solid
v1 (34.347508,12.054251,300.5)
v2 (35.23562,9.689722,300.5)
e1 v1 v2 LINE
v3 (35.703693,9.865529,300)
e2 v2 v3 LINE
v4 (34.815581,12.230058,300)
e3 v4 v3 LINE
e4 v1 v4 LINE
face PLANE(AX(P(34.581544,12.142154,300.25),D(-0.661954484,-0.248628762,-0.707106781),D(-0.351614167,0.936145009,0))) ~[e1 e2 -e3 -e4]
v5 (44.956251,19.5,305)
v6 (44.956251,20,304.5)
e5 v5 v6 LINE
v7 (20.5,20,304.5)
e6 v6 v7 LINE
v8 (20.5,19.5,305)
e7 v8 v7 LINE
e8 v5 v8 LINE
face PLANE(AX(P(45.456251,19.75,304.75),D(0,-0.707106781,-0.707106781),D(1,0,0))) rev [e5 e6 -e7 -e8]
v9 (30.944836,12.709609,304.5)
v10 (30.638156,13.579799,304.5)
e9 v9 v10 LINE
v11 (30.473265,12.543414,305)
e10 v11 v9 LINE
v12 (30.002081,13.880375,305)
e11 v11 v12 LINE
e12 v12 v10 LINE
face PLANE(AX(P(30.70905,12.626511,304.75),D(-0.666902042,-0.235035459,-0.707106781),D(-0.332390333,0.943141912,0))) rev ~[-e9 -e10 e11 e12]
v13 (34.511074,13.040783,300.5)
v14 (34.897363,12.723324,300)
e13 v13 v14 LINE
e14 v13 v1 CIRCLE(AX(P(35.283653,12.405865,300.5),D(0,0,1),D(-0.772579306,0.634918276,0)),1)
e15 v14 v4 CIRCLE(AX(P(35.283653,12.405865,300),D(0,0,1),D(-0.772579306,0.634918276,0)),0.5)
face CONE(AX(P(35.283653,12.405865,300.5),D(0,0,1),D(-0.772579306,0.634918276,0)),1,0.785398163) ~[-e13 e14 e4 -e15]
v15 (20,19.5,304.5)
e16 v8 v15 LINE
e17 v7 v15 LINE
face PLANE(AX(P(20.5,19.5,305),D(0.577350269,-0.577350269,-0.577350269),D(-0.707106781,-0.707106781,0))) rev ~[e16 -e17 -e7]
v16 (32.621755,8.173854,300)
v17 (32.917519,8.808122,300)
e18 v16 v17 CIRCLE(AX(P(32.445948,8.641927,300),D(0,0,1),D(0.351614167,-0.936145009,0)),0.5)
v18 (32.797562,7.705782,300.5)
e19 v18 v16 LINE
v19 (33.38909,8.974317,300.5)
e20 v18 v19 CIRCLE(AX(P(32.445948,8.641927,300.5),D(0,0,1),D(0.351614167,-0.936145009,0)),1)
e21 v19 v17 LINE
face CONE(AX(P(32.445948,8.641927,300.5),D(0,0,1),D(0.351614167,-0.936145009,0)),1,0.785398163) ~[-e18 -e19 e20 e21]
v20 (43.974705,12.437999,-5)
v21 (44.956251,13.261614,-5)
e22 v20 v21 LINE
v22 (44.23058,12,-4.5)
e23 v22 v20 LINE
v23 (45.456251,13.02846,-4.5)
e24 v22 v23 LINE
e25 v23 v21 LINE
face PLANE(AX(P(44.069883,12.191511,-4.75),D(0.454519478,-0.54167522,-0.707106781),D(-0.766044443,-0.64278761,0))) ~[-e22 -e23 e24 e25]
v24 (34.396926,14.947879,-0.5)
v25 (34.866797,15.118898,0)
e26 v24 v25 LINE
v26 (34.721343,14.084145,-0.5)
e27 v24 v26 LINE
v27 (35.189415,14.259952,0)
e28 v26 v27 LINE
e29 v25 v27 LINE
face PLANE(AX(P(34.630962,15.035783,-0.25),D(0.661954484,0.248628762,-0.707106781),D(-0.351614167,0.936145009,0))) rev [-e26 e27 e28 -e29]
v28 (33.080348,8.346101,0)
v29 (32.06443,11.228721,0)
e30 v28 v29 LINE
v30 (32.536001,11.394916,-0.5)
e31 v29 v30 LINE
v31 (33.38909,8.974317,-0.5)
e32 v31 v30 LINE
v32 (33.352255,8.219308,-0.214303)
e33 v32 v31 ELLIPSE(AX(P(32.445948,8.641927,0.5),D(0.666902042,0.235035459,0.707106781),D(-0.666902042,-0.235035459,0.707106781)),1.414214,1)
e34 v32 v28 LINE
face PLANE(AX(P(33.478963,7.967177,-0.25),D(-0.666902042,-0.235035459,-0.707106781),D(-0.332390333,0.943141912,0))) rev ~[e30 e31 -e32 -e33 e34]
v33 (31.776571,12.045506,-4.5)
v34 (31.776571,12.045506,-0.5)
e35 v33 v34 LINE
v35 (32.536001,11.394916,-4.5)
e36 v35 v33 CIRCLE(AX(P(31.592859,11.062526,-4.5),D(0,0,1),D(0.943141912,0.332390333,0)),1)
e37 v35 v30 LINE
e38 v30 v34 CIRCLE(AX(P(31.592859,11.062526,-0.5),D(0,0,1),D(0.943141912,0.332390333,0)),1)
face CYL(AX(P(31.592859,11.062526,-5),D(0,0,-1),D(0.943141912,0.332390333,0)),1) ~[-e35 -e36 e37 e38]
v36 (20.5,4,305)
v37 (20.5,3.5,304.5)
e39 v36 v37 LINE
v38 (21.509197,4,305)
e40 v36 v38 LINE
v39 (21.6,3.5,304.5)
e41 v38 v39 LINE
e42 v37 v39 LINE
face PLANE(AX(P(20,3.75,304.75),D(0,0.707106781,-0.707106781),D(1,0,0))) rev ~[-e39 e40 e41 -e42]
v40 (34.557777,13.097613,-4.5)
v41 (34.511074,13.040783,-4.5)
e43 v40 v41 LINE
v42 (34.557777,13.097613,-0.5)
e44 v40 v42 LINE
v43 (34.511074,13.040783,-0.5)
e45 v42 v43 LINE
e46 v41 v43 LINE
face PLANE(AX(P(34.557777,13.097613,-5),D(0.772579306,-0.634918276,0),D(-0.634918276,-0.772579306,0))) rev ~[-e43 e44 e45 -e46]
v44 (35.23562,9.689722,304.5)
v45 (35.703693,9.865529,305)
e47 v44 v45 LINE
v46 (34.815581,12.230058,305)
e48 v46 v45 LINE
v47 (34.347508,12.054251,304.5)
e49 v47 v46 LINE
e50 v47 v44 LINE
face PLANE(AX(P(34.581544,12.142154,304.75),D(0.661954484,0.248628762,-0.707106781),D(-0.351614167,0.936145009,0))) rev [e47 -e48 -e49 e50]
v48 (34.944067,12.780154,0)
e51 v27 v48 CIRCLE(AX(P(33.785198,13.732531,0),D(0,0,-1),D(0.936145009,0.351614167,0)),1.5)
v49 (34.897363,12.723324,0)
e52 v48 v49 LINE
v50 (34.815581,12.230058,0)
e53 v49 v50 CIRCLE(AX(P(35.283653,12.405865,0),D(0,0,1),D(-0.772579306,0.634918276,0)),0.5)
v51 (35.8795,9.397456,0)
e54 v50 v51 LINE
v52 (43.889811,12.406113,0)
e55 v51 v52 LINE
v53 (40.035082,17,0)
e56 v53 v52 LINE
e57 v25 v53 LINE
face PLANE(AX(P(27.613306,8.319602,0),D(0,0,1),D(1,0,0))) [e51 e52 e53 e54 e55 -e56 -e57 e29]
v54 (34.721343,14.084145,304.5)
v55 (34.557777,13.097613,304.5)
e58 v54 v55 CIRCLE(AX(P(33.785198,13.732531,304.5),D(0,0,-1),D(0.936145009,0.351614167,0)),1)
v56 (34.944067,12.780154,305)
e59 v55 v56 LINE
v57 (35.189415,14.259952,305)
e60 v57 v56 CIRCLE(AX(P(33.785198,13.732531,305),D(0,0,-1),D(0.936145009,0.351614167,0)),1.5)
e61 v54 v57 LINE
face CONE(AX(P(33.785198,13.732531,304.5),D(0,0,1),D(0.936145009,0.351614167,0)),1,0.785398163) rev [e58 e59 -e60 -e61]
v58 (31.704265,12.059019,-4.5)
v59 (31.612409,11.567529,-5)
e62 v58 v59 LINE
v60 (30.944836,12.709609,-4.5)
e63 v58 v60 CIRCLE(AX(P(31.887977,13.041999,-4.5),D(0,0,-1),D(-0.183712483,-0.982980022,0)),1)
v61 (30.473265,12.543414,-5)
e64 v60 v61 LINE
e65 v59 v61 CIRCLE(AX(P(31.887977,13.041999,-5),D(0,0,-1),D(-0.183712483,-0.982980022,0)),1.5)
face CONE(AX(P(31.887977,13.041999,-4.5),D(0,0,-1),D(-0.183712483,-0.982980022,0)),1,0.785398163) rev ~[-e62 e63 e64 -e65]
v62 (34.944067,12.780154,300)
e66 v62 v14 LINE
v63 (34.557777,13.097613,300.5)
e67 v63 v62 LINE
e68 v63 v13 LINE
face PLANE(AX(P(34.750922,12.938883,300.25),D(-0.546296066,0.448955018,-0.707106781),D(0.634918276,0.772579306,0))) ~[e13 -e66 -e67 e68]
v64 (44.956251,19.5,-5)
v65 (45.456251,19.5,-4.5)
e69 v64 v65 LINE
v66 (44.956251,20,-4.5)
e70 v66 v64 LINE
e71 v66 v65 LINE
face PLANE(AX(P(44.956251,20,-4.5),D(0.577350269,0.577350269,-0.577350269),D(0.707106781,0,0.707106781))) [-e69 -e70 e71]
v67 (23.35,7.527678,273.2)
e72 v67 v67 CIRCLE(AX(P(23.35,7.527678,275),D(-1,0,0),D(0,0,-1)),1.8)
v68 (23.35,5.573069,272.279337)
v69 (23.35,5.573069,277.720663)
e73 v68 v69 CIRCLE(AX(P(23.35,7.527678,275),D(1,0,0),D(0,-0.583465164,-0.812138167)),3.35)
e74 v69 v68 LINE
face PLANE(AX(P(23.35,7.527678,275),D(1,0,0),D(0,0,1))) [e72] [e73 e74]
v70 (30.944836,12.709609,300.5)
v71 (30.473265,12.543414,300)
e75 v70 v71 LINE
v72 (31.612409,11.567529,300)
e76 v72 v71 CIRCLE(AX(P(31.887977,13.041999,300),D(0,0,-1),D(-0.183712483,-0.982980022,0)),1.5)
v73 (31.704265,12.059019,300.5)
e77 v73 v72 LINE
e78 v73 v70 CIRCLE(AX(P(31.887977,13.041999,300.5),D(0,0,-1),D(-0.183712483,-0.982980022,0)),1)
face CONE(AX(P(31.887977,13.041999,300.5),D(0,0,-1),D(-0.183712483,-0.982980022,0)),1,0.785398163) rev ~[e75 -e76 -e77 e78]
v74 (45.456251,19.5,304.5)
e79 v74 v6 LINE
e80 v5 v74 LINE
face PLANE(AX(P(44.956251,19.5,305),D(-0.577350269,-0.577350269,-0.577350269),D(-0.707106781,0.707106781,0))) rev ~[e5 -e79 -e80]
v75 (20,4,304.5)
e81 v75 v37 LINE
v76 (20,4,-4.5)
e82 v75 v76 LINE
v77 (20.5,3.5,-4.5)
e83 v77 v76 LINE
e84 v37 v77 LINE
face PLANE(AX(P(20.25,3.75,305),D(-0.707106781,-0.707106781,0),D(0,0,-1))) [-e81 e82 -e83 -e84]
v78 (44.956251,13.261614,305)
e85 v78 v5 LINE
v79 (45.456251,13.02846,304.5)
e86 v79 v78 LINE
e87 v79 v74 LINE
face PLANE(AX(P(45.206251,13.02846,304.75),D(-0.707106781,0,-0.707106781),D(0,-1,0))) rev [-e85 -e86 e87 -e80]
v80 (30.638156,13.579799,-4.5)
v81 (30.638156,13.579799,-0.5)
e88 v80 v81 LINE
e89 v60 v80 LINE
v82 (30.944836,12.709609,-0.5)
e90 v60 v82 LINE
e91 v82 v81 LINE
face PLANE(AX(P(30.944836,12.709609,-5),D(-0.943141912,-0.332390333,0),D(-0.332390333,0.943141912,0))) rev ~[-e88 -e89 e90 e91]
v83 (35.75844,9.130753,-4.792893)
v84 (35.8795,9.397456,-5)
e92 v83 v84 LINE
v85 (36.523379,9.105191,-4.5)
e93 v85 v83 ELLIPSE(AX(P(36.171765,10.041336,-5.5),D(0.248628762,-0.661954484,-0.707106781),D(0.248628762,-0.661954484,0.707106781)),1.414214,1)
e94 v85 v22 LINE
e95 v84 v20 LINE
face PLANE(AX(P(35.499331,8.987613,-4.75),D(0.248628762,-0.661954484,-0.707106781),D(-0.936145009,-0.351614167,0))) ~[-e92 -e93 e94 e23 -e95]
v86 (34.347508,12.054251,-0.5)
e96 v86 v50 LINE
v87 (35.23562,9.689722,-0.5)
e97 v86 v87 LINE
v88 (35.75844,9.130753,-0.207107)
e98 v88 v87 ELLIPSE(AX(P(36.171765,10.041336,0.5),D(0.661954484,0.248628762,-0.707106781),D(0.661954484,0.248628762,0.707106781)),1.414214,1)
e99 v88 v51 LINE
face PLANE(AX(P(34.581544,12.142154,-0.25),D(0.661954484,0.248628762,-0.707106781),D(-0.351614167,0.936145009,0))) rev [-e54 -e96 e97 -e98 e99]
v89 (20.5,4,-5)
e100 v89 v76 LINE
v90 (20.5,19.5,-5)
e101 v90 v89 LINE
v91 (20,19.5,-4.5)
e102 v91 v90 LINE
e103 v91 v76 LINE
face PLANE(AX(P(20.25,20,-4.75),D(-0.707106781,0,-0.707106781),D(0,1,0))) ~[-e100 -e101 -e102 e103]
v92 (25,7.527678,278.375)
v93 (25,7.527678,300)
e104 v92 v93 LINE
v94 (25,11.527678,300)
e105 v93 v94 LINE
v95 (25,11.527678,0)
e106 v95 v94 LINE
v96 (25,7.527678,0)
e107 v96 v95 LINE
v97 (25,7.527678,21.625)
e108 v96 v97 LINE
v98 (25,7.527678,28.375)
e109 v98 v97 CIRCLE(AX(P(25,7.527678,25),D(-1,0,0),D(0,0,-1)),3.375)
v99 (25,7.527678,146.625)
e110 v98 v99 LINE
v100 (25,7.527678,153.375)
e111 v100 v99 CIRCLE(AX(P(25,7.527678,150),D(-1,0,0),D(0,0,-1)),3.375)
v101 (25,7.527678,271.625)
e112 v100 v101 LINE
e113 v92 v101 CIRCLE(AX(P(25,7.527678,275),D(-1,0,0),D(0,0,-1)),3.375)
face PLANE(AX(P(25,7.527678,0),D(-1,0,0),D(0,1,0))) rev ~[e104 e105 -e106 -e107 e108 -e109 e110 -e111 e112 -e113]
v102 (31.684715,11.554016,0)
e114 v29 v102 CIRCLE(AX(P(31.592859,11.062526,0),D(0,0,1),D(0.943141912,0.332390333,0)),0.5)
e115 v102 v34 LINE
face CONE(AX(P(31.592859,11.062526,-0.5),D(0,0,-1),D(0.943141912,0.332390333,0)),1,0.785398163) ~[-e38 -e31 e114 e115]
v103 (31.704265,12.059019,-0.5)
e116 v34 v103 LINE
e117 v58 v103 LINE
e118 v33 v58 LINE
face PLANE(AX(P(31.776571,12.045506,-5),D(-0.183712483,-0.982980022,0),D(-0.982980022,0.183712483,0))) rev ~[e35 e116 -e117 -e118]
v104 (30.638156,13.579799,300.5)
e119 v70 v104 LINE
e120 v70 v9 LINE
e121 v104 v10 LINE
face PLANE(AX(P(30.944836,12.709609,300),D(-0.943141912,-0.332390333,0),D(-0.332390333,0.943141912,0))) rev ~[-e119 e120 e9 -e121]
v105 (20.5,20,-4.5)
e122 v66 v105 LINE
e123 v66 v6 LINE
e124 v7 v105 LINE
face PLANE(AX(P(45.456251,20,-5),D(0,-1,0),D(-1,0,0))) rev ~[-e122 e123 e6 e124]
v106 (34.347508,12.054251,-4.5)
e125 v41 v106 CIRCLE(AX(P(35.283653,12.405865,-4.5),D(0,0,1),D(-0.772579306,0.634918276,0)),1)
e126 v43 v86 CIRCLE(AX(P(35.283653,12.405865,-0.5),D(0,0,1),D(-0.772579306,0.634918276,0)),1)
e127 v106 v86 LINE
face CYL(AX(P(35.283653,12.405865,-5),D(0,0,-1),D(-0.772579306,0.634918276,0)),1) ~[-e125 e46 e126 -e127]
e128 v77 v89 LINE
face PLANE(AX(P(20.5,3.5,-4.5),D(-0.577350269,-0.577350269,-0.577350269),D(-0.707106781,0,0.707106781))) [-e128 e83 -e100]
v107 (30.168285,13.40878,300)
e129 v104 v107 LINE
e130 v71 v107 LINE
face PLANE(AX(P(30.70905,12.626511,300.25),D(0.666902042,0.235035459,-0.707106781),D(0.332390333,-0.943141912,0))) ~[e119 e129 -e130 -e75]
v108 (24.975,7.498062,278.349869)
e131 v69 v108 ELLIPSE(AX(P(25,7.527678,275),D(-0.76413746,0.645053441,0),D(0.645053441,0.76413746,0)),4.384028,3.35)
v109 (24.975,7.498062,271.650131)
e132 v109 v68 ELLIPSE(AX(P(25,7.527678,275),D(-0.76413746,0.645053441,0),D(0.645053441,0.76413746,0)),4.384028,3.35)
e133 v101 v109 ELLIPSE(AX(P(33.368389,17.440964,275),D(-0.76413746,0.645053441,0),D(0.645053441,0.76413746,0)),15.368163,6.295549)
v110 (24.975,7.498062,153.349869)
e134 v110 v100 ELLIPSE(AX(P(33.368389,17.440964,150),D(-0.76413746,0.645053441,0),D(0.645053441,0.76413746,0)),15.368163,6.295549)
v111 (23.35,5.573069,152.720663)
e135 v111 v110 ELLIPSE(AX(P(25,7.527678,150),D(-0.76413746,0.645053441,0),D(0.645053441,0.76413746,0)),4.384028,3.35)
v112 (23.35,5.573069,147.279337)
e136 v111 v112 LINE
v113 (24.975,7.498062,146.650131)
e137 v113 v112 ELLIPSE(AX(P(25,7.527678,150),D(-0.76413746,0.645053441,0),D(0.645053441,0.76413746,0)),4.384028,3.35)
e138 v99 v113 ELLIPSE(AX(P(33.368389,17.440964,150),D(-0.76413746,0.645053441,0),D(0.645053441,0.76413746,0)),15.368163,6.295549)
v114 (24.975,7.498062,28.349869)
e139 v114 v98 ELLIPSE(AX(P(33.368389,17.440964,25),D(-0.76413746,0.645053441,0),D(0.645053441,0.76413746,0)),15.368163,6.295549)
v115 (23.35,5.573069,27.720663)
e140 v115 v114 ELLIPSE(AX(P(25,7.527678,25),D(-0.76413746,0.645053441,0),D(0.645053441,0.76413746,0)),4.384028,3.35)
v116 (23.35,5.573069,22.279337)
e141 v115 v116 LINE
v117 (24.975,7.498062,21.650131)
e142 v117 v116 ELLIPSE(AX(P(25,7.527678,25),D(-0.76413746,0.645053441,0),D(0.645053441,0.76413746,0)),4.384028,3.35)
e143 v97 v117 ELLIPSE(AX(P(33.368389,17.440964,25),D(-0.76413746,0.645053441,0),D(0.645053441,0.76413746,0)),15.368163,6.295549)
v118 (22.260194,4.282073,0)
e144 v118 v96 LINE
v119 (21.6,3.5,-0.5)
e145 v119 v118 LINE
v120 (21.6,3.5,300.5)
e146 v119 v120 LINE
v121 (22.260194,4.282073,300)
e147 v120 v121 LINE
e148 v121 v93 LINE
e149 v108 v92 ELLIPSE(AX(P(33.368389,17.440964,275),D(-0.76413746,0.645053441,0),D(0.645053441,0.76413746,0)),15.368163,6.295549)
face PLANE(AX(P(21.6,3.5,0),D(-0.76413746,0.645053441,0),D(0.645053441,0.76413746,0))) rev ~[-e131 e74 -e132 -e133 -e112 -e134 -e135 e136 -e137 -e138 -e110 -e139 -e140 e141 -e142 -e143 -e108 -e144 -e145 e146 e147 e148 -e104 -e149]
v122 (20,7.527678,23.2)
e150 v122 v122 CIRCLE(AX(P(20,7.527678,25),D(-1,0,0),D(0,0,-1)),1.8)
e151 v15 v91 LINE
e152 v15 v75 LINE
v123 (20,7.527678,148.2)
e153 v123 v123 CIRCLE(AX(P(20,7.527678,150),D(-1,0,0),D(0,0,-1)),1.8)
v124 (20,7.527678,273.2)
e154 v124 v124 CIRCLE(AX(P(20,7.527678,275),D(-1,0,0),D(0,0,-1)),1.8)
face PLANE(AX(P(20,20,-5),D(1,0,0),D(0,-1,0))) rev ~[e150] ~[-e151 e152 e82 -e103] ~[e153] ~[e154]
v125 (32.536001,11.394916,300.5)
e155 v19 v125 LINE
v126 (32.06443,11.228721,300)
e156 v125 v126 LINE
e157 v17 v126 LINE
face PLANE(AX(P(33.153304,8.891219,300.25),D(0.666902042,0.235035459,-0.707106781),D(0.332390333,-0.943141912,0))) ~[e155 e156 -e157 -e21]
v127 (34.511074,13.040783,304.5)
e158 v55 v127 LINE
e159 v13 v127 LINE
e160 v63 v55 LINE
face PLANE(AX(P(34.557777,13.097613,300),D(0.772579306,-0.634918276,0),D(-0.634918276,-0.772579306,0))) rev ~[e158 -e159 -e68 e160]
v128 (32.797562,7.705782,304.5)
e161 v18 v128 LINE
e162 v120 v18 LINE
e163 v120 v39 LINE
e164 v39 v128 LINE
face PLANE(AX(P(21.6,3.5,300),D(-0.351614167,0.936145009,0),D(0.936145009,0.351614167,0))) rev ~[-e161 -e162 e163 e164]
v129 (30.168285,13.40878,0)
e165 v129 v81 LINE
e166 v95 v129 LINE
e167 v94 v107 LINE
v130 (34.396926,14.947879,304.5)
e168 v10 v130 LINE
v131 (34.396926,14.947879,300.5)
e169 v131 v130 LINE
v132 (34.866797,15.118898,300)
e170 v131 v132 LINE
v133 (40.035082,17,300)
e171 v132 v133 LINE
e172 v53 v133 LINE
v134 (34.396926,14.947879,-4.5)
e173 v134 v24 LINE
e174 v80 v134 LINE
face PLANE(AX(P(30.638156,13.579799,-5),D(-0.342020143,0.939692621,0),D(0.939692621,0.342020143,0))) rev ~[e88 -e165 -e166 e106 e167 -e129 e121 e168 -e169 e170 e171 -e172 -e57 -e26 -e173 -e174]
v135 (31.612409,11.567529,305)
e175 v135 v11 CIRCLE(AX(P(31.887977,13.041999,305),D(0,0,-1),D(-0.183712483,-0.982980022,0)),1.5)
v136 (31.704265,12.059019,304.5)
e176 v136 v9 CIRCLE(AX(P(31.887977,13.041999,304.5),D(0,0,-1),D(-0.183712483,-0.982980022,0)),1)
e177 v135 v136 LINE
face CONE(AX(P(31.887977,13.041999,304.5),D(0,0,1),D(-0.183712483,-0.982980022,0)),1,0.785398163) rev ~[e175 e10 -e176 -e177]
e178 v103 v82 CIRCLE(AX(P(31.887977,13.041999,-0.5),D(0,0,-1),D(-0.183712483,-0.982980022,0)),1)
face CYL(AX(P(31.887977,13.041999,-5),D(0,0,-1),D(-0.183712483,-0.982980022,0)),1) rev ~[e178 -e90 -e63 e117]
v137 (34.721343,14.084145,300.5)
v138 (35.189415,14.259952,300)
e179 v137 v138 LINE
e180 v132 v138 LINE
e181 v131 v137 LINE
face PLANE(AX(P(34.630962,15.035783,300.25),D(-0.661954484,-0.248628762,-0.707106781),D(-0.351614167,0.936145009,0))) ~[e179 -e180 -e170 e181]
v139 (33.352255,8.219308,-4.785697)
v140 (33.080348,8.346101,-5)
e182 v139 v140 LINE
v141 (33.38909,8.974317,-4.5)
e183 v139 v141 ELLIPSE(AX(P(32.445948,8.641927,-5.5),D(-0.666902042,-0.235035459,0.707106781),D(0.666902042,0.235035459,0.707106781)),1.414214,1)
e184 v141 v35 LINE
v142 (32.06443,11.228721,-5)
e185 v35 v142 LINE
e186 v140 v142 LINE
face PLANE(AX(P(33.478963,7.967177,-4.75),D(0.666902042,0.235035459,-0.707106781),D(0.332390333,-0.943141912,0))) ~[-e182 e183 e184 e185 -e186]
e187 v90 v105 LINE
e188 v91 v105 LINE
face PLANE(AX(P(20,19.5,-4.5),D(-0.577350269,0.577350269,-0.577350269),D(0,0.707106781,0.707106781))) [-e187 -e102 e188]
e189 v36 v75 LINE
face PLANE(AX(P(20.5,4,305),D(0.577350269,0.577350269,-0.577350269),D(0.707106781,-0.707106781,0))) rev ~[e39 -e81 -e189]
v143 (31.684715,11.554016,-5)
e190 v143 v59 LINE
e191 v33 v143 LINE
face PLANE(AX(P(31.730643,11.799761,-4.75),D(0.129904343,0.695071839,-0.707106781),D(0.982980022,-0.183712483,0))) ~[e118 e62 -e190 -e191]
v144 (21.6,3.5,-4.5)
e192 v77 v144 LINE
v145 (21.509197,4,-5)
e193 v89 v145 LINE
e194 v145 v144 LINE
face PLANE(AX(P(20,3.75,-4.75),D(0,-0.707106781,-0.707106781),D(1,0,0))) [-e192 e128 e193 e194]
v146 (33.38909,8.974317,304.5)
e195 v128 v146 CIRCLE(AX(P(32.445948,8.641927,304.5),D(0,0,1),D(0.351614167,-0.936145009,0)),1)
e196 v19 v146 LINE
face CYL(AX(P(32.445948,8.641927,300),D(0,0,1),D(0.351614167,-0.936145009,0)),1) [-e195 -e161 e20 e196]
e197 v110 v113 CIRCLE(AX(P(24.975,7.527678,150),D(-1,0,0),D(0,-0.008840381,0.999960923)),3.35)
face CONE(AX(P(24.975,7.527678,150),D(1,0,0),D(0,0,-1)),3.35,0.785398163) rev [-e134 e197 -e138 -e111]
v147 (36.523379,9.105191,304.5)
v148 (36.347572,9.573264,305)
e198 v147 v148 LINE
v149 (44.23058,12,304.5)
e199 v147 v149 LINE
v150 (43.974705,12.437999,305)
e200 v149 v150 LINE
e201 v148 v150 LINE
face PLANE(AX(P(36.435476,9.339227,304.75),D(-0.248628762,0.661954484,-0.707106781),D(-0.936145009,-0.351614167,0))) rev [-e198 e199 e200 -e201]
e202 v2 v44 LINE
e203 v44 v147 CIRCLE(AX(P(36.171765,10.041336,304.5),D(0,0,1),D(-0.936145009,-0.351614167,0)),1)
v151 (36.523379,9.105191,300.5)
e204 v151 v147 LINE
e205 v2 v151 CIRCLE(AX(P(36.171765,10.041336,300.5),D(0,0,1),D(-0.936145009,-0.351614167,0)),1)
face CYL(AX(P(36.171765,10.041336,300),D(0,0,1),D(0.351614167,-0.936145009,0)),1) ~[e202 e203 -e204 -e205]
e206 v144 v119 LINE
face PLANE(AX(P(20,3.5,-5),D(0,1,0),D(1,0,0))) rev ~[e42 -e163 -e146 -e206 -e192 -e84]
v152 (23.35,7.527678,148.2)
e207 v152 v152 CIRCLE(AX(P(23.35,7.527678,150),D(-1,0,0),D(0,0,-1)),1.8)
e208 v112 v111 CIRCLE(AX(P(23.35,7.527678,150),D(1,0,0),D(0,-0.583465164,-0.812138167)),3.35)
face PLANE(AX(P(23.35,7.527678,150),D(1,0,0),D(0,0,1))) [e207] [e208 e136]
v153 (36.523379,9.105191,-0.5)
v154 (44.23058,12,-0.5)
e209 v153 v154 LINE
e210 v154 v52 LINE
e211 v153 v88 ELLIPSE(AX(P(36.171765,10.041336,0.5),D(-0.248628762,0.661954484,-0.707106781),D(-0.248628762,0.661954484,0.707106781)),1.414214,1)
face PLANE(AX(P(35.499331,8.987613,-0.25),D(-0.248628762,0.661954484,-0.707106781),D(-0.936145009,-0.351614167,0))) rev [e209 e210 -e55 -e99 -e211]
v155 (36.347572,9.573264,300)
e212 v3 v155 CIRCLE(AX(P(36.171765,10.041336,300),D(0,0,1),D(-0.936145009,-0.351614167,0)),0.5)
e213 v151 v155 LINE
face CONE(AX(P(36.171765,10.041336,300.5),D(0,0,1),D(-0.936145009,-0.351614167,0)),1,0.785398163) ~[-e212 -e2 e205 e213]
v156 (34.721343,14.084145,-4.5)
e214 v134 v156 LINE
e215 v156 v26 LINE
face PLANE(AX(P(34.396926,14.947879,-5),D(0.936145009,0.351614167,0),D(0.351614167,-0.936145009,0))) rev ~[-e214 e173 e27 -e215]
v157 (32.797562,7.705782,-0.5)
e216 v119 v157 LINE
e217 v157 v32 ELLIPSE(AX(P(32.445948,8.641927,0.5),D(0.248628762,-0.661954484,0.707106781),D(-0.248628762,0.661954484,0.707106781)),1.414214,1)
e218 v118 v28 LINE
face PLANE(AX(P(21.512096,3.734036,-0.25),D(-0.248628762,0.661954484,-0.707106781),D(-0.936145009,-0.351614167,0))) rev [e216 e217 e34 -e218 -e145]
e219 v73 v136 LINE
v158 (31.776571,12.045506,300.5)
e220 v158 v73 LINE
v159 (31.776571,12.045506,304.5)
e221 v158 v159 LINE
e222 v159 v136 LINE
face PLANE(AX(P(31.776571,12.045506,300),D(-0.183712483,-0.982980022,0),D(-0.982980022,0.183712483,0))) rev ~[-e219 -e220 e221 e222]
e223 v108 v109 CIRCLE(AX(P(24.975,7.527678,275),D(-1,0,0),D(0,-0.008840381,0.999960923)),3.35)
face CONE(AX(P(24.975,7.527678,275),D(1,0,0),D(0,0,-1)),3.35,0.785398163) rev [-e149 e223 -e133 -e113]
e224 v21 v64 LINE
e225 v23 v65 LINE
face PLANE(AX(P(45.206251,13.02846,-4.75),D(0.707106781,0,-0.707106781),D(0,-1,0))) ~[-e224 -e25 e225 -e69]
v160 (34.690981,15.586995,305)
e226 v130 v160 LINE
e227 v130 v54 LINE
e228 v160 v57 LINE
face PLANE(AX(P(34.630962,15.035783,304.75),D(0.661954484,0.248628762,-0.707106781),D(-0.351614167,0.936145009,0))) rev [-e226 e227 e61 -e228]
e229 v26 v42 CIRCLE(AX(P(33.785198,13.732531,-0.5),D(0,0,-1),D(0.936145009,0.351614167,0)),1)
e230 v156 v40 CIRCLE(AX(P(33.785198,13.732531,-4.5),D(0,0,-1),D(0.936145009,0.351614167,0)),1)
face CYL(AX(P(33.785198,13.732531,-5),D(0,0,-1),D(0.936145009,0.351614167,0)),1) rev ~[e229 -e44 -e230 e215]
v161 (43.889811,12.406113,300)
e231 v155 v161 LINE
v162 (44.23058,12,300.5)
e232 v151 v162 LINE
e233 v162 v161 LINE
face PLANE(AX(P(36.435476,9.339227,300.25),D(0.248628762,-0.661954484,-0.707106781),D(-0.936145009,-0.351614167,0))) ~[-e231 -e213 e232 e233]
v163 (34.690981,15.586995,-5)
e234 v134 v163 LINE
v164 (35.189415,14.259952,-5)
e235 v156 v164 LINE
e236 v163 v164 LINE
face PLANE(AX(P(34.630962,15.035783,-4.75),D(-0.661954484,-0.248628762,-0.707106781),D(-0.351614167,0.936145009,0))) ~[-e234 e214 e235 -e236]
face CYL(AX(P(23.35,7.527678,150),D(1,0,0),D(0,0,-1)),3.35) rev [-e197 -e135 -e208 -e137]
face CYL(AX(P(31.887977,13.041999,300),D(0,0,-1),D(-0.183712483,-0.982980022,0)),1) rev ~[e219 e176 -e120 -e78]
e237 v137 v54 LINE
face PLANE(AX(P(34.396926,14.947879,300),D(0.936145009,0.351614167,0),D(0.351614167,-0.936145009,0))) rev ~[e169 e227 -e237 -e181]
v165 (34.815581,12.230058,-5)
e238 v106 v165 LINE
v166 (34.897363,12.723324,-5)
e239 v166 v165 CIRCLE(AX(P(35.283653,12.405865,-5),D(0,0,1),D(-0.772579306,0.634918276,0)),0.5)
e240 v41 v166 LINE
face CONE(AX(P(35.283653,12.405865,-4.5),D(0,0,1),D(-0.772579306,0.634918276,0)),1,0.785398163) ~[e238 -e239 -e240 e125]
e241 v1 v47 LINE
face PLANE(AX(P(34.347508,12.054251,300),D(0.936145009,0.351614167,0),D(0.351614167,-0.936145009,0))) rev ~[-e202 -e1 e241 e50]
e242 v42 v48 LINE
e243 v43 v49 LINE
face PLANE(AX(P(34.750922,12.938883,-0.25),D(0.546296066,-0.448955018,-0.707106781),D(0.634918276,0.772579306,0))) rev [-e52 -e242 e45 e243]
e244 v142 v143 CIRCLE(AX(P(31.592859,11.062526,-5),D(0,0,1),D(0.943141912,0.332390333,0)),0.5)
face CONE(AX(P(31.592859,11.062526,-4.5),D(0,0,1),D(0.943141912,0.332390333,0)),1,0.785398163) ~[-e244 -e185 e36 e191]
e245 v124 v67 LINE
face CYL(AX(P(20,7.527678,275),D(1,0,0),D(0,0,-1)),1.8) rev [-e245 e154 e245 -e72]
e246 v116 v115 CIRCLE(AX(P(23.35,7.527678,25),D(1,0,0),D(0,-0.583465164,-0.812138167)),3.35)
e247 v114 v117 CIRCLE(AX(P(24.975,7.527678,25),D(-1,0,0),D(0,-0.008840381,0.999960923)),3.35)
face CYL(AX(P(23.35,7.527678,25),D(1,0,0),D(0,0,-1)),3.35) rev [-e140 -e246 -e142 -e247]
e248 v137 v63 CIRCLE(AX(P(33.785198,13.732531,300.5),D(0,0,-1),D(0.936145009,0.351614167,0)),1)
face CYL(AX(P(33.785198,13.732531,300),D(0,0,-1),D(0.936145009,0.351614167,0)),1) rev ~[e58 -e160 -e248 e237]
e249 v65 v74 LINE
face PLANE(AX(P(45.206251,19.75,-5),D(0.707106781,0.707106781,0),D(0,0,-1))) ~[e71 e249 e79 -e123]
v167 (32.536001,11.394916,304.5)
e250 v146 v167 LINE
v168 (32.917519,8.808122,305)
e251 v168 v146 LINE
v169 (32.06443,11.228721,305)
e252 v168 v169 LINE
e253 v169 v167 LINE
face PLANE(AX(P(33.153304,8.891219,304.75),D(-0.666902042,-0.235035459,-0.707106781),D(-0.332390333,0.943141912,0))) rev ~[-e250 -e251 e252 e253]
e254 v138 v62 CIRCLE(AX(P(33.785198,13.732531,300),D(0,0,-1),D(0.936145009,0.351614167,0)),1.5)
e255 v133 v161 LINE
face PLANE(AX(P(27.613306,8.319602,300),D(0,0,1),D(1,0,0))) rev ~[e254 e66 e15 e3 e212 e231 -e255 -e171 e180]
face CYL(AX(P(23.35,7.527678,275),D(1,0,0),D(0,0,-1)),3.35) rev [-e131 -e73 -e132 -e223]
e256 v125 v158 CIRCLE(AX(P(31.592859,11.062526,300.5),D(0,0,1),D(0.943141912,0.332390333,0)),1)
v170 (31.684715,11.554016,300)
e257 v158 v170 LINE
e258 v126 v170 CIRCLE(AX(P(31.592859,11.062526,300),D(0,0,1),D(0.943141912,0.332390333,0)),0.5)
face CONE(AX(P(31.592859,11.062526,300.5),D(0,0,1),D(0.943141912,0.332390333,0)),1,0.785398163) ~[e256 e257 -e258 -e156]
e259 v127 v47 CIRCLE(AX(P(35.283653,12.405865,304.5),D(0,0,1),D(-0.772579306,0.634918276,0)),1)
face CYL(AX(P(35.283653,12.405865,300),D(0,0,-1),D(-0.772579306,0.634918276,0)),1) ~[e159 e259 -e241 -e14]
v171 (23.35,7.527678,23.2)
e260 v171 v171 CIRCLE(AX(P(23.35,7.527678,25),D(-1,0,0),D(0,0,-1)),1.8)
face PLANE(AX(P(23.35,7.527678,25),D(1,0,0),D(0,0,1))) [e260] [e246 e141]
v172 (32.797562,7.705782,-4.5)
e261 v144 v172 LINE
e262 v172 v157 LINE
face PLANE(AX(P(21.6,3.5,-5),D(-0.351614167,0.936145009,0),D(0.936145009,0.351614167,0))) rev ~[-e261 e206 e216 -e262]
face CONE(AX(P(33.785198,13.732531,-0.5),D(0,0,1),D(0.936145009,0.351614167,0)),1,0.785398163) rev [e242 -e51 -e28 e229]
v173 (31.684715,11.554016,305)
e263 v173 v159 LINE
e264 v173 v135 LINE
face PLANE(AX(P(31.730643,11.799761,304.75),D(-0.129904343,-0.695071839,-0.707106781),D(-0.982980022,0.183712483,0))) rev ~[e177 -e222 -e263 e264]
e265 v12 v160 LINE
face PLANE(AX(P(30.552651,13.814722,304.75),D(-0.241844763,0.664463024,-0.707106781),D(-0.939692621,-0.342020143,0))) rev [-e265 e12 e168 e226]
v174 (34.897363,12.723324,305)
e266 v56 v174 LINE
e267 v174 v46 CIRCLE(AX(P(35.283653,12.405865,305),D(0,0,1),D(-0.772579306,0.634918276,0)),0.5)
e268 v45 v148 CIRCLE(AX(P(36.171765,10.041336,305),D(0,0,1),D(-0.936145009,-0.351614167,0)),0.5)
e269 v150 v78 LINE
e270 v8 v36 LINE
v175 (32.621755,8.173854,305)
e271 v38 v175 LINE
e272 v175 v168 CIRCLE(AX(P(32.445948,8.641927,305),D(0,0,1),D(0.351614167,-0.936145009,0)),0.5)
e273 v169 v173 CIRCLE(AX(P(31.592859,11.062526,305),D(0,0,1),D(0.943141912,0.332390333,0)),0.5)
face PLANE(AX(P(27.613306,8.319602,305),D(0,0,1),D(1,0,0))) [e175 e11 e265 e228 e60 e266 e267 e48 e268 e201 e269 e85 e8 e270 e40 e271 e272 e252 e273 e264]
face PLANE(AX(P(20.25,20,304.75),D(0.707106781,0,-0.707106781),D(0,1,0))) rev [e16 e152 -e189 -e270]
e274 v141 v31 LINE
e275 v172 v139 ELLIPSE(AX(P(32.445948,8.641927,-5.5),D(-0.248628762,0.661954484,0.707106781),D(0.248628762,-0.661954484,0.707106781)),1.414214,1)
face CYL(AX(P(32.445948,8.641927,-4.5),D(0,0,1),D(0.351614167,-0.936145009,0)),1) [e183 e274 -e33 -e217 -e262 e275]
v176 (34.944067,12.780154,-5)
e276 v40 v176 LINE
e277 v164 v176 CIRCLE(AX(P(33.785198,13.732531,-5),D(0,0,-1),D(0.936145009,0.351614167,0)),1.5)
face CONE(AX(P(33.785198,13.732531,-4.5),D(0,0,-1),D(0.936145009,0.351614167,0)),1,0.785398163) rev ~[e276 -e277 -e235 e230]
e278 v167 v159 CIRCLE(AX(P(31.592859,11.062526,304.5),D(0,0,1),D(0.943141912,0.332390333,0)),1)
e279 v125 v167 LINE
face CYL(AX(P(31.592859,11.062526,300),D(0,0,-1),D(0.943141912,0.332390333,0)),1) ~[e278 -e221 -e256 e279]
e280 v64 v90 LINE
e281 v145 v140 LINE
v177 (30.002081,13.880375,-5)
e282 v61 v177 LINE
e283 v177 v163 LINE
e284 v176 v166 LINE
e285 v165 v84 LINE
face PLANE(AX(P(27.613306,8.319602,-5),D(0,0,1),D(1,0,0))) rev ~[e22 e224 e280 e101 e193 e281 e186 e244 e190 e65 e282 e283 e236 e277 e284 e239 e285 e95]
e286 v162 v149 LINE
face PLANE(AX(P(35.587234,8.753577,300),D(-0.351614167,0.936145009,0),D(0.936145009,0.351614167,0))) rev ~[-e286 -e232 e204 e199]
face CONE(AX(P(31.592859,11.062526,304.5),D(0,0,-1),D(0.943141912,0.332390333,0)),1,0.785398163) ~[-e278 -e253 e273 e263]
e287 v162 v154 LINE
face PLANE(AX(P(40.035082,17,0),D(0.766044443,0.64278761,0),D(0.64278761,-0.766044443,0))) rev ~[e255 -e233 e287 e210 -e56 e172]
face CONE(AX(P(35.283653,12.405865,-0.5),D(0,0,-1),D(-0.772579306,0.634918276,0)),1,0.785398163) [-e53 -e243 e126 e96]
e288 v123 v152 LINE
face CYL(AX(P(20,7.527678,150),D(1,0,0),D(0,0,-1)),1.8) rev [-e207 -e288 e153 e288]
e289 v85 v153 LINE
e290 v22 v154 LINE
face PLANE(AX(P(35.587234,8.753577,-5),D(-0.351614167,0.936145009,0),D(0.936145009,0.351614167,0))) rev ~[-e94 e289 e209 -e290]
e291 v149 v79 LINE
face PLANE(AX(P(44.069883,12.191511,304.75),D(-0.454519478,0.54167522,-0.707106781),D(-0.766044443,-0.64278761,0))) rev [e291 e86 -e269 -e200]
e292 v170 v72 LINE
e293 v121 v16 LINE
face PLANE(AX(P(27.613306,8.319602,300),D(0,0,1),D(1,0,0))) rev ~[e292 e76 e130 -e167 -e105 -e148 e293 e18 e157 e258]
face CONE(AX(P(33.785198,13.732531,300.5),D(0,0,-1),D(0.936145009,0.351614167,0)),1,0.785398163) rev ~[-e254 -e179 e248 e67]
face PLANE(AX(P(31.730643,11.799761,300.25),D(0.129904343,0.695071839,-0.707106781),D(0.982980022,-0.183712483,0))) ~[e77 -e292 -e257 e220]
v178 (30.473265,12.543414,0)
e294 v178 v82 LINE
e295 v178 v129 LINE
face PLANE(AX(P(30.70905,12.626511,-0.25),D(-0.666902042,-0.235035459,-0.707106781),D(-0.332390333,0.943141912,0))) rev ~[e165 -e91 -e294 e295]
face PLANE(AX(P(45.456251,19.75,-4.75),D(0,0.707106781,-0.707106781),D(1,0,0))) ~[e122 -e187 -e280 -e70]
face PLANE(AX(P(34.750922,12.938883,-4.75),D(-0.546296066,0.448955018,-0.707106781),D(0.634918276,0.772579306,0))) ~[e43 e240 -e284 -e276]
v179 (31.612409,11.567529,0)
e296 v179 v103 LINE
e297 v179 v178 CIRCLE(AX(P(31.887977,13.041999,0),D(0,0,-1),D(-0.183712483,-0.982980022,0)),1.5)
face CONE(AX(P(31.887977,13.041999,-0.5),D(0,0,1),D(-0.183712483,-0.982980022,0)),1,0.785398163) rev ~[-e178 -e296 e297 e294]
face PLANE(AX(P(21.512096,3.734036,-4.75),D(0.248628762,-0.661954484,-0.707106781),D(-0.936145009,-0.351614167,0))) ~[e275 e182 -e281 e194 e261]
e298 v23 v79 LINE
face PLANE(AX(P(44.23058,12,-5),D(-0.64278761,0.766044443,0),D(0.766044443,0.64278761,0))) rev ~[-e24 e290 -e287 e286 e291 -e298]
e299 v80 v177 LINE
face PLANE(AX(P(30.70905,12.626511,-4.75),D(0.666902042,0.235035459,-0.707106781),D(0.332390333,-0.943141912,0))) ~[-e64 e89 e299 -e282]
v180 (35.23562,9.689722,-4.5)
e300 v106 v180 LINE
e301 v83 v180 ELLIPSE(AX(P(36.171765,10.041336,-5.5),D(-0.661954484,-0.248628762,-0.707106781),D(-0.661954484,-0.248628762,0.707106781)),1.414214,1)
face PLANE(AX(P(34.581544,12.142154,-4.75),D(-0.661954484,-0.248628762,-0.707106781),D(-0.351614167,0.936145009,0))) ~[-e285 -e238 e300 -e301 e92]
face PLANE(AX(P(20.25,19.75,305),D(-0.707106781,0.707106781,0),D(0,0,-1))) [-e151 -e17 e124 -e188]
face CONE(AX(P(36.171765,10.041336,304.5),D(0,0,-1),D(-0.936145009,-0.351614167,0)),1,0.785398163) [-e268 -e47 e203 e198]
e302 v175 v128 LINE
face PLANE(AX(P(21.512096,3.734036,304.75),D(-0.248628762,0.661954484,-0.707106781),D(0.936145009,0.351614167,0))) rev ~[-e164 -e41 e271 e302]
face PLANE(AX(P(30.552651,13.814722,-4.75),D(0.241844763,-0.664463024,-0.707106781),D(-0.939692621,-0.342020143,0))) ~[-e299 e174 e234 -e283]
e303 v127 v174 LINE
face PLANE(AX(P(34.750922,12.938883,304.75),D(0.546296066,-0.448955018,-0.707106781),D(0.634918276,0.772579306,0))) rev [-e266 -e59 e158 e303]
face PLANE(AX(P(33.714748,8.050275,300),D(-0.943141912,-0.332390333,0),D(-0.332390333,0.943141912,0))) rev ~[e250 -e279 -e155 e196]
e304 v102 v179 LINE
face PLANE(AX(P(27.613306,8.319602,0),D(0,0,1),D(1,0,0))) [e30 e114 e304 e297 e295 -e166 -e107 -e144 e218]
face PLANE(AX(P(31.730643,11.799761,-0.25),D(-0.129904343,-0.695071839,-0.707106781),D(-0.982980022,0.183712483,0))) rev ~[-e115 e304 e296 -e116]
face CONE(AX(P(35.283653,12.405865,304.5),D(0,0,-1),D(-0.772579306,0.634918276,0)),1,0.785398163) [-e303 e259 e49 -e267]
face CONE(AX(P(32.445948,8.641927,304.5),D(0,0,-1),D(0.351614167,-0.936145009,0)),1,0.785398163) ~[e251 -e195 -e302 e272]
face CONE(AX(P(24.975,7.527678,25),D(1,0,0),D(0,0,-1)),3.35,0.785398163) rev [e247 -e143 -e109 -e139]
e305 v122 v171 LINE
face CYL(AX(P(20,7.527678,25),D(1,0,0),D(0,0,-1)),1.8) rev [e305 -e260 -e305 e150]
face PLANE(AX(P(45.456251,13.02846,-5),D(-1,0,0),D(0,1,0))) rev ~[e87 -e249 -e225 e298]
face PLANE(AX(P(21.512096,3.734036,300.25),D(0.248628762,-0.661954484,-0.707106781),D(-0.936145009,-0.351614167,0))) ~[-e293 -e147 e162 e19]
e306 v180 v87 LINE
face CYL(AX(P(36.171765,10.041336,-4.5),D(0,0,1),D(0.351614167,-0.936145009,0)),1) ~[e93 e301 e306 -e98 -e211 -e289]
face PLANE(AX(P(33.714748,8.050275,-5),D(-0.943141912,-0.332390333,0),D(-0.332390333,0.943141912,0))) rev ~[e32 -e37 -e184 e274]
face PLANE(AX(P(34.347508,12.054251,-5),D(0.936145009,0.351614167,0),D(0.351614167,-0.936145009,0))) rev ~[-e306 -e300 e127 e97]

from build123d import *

# Parameters (mm, degrees)
BOSS_EXTRUDE1_DEPTH            = 300
CBORE_FOR_M3_SBHCS1_AT_2_COUNT = 2
CBORE_FOR_M3_SBHCS1_AT_2_PITCH = 124.99999999999997
CBORE_FOR_M3_SBHCS1_AT_3_COUNT = 2
CBORE_FOR_M3_SBHCS1_AT_3_PITCH = 249.99999999999997
BOSS_EXTRUDE2_DEPTH            = 5
FILLET1_R                      = 1
LPATTERN1_COUNT                = 2
LPATTERN1_PITCH                = 305
CHAMFER2_SIZE                  = 0.5
FILLET2_R                      = 1


with BuildPart() as part:
    # Sketch1 → Boss-Extrude1 (new body)
    with BuildSketch(Plane.XY):
        Polygon((20, 20), (20, 3.5), (21.600000000000005, 3.5), (24.999999999999996, 7.527677706789349), (25.000000000000004, 11.52767770678935), (40.03508193257454, 17), (44.2305800884609, 12), (45.45625119745129, 13.028460175498461), (45.456251197451294, 20), align=None)
    extrude(amount=BOSS_EXTRUDE1_DEPTH)

    # Sketch4 → CBORE for M3 SBHCS1 (revolve, cut)
    with BuildSketch(Plane(origin=(25, 7.527677706789349, 274.99999999999994), x_dir=(0, 0, -1), z_dir=(2.31e-15, 1, 0))):
        Polygon((0, 0), (-1.22e-15, 5.000000000000024), (1.7999999999999992, 5.000000000000024), (1.8000000000000005, 1.6499999999999997), (3.3499999999999956, 1.6499999999999952), (3.350000000000001, 0.02499999999999889), (3.3749999999999996, -3.47e-15), align=None)
    cbore_for_m3_sbhcs1 = revolve(axis=Axis((31.34999999999999, 7.527677706789334, 274.99999999999994), (-1, 2.32e-15, 0)), mode=Mode.SUBTRACT)

    # CBORE for M3 SBHCS1 at 2: CBORE for M3 SBHCS1 ×2
    with Locations(*[(0, 0, -i * CBORE_FOR_M3_SBHCS1_AT_2_PITCH) for i in range(1, CBORE_FOR_M3_SBHCS1_AT_2_COUNT)]):
        add(cbore_for_m3_sbhcs1, mode=Mode.SUBTRACT)

    # CBORE for M3 SBHCS1 at 3: CBORE for M3 SBHCS1 ×2
    with Locations(*[(0, 0, -i * CBORE_FOR_M3_SBHCS1_AT_3_PITCH) for i in range(1, CBORE_FOR_M3_SBHCS1_AT_3_COUNT)]):
        add(cbore_for_m3_sbhcs1, mode=Mode.SUBTRACT)

    # Sketch5 → Boss-Extrude2 (add)
    with BuildSketch(Plane.XY.offset(300)):
        with BuildLine():
            Line((24.999999999999996, 7.527677706789349), (21.600000000000005, 3.5))
            Line((21.600000000000005, 3.5), (33.71474845278774, 8.05027495743257))
            Line((33.71474845278774, 8.050274957432569), (33.70794748463962, 8.069572384153874))
            Line((33.70794748463962, 8.069572384153874), (32.53600076787437, 11.394915981634217))
            ThreePointArc((32.53600076787437, 11.394915981634217), (32.24344854430553, 11.821955076935874), (31.77657133911045, 12.045505670091789))
            Line((31.77657133911045, 12.045505670091789), (31.704265005172275, 12.059019247038602))
            ThreePointArc((31.704265005172275, 12.0590192470386), (31.23738779997721, 12.282569840194535), (30.94483557640838, 12.70960893549619))
            Line((30.94483557640838, 12.70960893549619), (30.638155724715453, 13.57979856674334))
            Line((30.638155724715453, 13.579798566743342), (25.000000000000004, 11.52767770678935))
            Line((25.000000000000004, 11.52767770678935), (24.999999999999996, 7.527677706789349))
        make_face()
        with BuildLine():
            Line((34.34750801297435, 12.054250698008177), (35.587234405375604, 8.753576884947558))
            Line((35.587234405375604, 8.753576884947558), (44.2305800884609, 12))
            Line((44.2305800884609, 12), (40.03508193257454, 17))
            Line((40.03508193257454, 17), (34.396926207859096, 14.947879140046009))
            Line((34.396926207859096, 14.947879140046007), (34.721342924696536, 14.084145199760654))
            ThreePointArc((34.721342924696536, 14.084145199760654), (34.77173035882119, 13.568965329313977), (34.5577772215813, 13.097612756926463))
            Line((34.5577772215813, 13.097612756926463), (34.511073716089605, 13.04078314084238))
            ThreePointArc((34.511073716089605, 13.04078314084238), (34.297120578849714, 12.569430568454859), (34.34750801297435, 12.054250698008177))
        make_face()
        Polygon((20, 3.5), (21.600000000000005, 3.5), (24.999999999999996, 7.527677706789349), (25.000000000000004, 11.52767770678935), (30.638155724715453, 13.579798566743342), (34.396926207859096, 14.947879140046007), (40.03508193257454, 17), (44.2305800884609, 12), (45.45625119745129, 13.028460175498461), (45.456251197451294, 20), (20, 20), align=None)
    boss_extrude2 = extrude(amount=BOSS_EXTRUDE2_DEPTH)

    # Fillet1
    fillet1_edges = [part.edges().sort_by_distance(p)[0] for p in [
        (35.587234405375604, 8.753576884947558, 302.5),
        (33.71474845278774, 8.05027495743257, 302.5),
    ]]
    fillet(fillet1_edges, radius=FILLET1_R)

    # LPattern1: Boss-Extrude2 ×2
    with Locations(*[(0, 0, -i * LPATTERN1_PITCH) for i in range(1, LPATTERN1_COUNT)]):
        add(boss_extrude2)

    # Chamfer2
    chamfer2_edges = [part.edges().sort_by_distance(p)[0] for p in [
        (33.35225539318084, 8.219308247155407, 300),
        (40.37697975127303, 10.552595526139491, 305),
        (35.758439525002586, 9.13075281507476, 305),
        (33.35225539318084, 8.219308247155407, 305),
        (40.37697975127303, 10.552595526139491, 300),
        (35.758439525002586, 9.13075281507476, 300),
        (34.55913456627782, 14.51601216990333, 0),
        (34.53442546883545, 13.069197948884423, 0),
        (34.96737120917498, 10.403913791477867, 0),
        (39.90890724691825, 10.376788442473778, 0),
        (27.65737422639387, 5.775137478716285, 0),
        (32.24344854430553, 11.821955076935874, 0),
        (31.74041817214136, 12.052262458565195, 0),
        (31.23738779997721, 12.282569840194535, 0),
        (30.791495650561917, 13.144703751119765, 0),
        (32.51754096628727, 14.263838853394676, -5),
        (34.55913456627782, 14.51601216990333, -5),
        (34.77173035882119, 13.56896532931398, 0),
        (34.53442546883545, 13.069197948884423, -5),
        (34.297120578849714, 12.569430568454859, 0),
        (34.96737120917498, 10.403913791477867, -5),
        (39.90890724691825, 10.376788442473778, -5),
        (44.84341564295609, 12.51423008774923, -5),
        (45.45625119745129, 16.51423008774923, -5),
        (32.72812559872565, 20, -5),
        (20, 11.75, -5),
        (20.800000000000004, 3.5, -5),
        (27.65737422639387, 5.775137478716285, -5),
        (33.12537461033105, 9.722595469533394, 0),
        (32.24344854430553, 11.821955076935874, -5),
        (31.74041817214136, 12.052262458565195, -5),
        (31.23738779997721, 12.282569840194535, -5),
        (30.791495650561917, 13.144703751119765, -5),
        (33.12537461033105, 9.722595469533394, -5),
        (34.297120578849714, 12.569430568454859, -5),
        (34.77173035882119, 13.56896532931398, -5),
        (45.456251197451294, 20, 150),
        (20, 3.5, 150),
        (20, 20, 150),
        (30.791495650561917, 13.144703751119765, 300),
        (32.9625451430224, 10.184616411996103, 300),
        (34.297120578849714, 12.569430568454859, 300),
        (34.77173035882119, 13.56896532931398, 300),
        (30.791495650561917, 13.144703751119765, 305),
        (34.55913456627782, 14.51601216990333, 300),
        (34.77173035882119, 13.56896532931398, 305),
        (34.53442546883545, 13.069197948884423, 300),
        (34.297120578849714, 12.569430568454859, 305),
        (34.79156412550927, 10.871986295832649, 300),
        (27.19878088673786, 5.602890750093377, 300),
        (32.9625451430224, 10.184616411996103, 305),
        (32.24344854430553, 11.821955076935874, 300),
        (31.74041817214136, 12.052262458565195, 300),
        (31.23738779997721, 12.282569840194535, 300),
        (32.51754096628727, 14.263838853394676, 305),
        (34.55913456627782, 14.51601216990333, 305),
        (34.53442546883545, 13.069197948884423, 305),
        (34.79156412550927, 10.871986295832649, 305),
        (44.84341564295609, 12.51423008774923, 305),
        (45.45625119745129, 16.51423008774923, 305),
        (32.72812559872565, 20, 305),
        (20, 11.75, 305),
        (20.800000000000004, 3.5, 305),
        (27.19878088673786, 5.602890750093377, 305),
        (32.24344854430553, 11.821955076935874, 305),
        (31.74041817214136, 12.052262458565195, 305),
        (31.23738779997721, 12.282569840194535, 305),
    ]]
    chamfer(chamfer2_edges, length=CHAMFER2_SIZE)

    # Fillet2
    fillet2_edges = [part.edges().sort_by_distance(p)[0] for p in [
        (35.587234405375604, 8.753576884947558, -2.5),
        (33.71474845278774, 8.05027495743257, -2.5),
    ]]
    fillet(fillet2_edges, radius=FILLET2_R)


solid = part.part
